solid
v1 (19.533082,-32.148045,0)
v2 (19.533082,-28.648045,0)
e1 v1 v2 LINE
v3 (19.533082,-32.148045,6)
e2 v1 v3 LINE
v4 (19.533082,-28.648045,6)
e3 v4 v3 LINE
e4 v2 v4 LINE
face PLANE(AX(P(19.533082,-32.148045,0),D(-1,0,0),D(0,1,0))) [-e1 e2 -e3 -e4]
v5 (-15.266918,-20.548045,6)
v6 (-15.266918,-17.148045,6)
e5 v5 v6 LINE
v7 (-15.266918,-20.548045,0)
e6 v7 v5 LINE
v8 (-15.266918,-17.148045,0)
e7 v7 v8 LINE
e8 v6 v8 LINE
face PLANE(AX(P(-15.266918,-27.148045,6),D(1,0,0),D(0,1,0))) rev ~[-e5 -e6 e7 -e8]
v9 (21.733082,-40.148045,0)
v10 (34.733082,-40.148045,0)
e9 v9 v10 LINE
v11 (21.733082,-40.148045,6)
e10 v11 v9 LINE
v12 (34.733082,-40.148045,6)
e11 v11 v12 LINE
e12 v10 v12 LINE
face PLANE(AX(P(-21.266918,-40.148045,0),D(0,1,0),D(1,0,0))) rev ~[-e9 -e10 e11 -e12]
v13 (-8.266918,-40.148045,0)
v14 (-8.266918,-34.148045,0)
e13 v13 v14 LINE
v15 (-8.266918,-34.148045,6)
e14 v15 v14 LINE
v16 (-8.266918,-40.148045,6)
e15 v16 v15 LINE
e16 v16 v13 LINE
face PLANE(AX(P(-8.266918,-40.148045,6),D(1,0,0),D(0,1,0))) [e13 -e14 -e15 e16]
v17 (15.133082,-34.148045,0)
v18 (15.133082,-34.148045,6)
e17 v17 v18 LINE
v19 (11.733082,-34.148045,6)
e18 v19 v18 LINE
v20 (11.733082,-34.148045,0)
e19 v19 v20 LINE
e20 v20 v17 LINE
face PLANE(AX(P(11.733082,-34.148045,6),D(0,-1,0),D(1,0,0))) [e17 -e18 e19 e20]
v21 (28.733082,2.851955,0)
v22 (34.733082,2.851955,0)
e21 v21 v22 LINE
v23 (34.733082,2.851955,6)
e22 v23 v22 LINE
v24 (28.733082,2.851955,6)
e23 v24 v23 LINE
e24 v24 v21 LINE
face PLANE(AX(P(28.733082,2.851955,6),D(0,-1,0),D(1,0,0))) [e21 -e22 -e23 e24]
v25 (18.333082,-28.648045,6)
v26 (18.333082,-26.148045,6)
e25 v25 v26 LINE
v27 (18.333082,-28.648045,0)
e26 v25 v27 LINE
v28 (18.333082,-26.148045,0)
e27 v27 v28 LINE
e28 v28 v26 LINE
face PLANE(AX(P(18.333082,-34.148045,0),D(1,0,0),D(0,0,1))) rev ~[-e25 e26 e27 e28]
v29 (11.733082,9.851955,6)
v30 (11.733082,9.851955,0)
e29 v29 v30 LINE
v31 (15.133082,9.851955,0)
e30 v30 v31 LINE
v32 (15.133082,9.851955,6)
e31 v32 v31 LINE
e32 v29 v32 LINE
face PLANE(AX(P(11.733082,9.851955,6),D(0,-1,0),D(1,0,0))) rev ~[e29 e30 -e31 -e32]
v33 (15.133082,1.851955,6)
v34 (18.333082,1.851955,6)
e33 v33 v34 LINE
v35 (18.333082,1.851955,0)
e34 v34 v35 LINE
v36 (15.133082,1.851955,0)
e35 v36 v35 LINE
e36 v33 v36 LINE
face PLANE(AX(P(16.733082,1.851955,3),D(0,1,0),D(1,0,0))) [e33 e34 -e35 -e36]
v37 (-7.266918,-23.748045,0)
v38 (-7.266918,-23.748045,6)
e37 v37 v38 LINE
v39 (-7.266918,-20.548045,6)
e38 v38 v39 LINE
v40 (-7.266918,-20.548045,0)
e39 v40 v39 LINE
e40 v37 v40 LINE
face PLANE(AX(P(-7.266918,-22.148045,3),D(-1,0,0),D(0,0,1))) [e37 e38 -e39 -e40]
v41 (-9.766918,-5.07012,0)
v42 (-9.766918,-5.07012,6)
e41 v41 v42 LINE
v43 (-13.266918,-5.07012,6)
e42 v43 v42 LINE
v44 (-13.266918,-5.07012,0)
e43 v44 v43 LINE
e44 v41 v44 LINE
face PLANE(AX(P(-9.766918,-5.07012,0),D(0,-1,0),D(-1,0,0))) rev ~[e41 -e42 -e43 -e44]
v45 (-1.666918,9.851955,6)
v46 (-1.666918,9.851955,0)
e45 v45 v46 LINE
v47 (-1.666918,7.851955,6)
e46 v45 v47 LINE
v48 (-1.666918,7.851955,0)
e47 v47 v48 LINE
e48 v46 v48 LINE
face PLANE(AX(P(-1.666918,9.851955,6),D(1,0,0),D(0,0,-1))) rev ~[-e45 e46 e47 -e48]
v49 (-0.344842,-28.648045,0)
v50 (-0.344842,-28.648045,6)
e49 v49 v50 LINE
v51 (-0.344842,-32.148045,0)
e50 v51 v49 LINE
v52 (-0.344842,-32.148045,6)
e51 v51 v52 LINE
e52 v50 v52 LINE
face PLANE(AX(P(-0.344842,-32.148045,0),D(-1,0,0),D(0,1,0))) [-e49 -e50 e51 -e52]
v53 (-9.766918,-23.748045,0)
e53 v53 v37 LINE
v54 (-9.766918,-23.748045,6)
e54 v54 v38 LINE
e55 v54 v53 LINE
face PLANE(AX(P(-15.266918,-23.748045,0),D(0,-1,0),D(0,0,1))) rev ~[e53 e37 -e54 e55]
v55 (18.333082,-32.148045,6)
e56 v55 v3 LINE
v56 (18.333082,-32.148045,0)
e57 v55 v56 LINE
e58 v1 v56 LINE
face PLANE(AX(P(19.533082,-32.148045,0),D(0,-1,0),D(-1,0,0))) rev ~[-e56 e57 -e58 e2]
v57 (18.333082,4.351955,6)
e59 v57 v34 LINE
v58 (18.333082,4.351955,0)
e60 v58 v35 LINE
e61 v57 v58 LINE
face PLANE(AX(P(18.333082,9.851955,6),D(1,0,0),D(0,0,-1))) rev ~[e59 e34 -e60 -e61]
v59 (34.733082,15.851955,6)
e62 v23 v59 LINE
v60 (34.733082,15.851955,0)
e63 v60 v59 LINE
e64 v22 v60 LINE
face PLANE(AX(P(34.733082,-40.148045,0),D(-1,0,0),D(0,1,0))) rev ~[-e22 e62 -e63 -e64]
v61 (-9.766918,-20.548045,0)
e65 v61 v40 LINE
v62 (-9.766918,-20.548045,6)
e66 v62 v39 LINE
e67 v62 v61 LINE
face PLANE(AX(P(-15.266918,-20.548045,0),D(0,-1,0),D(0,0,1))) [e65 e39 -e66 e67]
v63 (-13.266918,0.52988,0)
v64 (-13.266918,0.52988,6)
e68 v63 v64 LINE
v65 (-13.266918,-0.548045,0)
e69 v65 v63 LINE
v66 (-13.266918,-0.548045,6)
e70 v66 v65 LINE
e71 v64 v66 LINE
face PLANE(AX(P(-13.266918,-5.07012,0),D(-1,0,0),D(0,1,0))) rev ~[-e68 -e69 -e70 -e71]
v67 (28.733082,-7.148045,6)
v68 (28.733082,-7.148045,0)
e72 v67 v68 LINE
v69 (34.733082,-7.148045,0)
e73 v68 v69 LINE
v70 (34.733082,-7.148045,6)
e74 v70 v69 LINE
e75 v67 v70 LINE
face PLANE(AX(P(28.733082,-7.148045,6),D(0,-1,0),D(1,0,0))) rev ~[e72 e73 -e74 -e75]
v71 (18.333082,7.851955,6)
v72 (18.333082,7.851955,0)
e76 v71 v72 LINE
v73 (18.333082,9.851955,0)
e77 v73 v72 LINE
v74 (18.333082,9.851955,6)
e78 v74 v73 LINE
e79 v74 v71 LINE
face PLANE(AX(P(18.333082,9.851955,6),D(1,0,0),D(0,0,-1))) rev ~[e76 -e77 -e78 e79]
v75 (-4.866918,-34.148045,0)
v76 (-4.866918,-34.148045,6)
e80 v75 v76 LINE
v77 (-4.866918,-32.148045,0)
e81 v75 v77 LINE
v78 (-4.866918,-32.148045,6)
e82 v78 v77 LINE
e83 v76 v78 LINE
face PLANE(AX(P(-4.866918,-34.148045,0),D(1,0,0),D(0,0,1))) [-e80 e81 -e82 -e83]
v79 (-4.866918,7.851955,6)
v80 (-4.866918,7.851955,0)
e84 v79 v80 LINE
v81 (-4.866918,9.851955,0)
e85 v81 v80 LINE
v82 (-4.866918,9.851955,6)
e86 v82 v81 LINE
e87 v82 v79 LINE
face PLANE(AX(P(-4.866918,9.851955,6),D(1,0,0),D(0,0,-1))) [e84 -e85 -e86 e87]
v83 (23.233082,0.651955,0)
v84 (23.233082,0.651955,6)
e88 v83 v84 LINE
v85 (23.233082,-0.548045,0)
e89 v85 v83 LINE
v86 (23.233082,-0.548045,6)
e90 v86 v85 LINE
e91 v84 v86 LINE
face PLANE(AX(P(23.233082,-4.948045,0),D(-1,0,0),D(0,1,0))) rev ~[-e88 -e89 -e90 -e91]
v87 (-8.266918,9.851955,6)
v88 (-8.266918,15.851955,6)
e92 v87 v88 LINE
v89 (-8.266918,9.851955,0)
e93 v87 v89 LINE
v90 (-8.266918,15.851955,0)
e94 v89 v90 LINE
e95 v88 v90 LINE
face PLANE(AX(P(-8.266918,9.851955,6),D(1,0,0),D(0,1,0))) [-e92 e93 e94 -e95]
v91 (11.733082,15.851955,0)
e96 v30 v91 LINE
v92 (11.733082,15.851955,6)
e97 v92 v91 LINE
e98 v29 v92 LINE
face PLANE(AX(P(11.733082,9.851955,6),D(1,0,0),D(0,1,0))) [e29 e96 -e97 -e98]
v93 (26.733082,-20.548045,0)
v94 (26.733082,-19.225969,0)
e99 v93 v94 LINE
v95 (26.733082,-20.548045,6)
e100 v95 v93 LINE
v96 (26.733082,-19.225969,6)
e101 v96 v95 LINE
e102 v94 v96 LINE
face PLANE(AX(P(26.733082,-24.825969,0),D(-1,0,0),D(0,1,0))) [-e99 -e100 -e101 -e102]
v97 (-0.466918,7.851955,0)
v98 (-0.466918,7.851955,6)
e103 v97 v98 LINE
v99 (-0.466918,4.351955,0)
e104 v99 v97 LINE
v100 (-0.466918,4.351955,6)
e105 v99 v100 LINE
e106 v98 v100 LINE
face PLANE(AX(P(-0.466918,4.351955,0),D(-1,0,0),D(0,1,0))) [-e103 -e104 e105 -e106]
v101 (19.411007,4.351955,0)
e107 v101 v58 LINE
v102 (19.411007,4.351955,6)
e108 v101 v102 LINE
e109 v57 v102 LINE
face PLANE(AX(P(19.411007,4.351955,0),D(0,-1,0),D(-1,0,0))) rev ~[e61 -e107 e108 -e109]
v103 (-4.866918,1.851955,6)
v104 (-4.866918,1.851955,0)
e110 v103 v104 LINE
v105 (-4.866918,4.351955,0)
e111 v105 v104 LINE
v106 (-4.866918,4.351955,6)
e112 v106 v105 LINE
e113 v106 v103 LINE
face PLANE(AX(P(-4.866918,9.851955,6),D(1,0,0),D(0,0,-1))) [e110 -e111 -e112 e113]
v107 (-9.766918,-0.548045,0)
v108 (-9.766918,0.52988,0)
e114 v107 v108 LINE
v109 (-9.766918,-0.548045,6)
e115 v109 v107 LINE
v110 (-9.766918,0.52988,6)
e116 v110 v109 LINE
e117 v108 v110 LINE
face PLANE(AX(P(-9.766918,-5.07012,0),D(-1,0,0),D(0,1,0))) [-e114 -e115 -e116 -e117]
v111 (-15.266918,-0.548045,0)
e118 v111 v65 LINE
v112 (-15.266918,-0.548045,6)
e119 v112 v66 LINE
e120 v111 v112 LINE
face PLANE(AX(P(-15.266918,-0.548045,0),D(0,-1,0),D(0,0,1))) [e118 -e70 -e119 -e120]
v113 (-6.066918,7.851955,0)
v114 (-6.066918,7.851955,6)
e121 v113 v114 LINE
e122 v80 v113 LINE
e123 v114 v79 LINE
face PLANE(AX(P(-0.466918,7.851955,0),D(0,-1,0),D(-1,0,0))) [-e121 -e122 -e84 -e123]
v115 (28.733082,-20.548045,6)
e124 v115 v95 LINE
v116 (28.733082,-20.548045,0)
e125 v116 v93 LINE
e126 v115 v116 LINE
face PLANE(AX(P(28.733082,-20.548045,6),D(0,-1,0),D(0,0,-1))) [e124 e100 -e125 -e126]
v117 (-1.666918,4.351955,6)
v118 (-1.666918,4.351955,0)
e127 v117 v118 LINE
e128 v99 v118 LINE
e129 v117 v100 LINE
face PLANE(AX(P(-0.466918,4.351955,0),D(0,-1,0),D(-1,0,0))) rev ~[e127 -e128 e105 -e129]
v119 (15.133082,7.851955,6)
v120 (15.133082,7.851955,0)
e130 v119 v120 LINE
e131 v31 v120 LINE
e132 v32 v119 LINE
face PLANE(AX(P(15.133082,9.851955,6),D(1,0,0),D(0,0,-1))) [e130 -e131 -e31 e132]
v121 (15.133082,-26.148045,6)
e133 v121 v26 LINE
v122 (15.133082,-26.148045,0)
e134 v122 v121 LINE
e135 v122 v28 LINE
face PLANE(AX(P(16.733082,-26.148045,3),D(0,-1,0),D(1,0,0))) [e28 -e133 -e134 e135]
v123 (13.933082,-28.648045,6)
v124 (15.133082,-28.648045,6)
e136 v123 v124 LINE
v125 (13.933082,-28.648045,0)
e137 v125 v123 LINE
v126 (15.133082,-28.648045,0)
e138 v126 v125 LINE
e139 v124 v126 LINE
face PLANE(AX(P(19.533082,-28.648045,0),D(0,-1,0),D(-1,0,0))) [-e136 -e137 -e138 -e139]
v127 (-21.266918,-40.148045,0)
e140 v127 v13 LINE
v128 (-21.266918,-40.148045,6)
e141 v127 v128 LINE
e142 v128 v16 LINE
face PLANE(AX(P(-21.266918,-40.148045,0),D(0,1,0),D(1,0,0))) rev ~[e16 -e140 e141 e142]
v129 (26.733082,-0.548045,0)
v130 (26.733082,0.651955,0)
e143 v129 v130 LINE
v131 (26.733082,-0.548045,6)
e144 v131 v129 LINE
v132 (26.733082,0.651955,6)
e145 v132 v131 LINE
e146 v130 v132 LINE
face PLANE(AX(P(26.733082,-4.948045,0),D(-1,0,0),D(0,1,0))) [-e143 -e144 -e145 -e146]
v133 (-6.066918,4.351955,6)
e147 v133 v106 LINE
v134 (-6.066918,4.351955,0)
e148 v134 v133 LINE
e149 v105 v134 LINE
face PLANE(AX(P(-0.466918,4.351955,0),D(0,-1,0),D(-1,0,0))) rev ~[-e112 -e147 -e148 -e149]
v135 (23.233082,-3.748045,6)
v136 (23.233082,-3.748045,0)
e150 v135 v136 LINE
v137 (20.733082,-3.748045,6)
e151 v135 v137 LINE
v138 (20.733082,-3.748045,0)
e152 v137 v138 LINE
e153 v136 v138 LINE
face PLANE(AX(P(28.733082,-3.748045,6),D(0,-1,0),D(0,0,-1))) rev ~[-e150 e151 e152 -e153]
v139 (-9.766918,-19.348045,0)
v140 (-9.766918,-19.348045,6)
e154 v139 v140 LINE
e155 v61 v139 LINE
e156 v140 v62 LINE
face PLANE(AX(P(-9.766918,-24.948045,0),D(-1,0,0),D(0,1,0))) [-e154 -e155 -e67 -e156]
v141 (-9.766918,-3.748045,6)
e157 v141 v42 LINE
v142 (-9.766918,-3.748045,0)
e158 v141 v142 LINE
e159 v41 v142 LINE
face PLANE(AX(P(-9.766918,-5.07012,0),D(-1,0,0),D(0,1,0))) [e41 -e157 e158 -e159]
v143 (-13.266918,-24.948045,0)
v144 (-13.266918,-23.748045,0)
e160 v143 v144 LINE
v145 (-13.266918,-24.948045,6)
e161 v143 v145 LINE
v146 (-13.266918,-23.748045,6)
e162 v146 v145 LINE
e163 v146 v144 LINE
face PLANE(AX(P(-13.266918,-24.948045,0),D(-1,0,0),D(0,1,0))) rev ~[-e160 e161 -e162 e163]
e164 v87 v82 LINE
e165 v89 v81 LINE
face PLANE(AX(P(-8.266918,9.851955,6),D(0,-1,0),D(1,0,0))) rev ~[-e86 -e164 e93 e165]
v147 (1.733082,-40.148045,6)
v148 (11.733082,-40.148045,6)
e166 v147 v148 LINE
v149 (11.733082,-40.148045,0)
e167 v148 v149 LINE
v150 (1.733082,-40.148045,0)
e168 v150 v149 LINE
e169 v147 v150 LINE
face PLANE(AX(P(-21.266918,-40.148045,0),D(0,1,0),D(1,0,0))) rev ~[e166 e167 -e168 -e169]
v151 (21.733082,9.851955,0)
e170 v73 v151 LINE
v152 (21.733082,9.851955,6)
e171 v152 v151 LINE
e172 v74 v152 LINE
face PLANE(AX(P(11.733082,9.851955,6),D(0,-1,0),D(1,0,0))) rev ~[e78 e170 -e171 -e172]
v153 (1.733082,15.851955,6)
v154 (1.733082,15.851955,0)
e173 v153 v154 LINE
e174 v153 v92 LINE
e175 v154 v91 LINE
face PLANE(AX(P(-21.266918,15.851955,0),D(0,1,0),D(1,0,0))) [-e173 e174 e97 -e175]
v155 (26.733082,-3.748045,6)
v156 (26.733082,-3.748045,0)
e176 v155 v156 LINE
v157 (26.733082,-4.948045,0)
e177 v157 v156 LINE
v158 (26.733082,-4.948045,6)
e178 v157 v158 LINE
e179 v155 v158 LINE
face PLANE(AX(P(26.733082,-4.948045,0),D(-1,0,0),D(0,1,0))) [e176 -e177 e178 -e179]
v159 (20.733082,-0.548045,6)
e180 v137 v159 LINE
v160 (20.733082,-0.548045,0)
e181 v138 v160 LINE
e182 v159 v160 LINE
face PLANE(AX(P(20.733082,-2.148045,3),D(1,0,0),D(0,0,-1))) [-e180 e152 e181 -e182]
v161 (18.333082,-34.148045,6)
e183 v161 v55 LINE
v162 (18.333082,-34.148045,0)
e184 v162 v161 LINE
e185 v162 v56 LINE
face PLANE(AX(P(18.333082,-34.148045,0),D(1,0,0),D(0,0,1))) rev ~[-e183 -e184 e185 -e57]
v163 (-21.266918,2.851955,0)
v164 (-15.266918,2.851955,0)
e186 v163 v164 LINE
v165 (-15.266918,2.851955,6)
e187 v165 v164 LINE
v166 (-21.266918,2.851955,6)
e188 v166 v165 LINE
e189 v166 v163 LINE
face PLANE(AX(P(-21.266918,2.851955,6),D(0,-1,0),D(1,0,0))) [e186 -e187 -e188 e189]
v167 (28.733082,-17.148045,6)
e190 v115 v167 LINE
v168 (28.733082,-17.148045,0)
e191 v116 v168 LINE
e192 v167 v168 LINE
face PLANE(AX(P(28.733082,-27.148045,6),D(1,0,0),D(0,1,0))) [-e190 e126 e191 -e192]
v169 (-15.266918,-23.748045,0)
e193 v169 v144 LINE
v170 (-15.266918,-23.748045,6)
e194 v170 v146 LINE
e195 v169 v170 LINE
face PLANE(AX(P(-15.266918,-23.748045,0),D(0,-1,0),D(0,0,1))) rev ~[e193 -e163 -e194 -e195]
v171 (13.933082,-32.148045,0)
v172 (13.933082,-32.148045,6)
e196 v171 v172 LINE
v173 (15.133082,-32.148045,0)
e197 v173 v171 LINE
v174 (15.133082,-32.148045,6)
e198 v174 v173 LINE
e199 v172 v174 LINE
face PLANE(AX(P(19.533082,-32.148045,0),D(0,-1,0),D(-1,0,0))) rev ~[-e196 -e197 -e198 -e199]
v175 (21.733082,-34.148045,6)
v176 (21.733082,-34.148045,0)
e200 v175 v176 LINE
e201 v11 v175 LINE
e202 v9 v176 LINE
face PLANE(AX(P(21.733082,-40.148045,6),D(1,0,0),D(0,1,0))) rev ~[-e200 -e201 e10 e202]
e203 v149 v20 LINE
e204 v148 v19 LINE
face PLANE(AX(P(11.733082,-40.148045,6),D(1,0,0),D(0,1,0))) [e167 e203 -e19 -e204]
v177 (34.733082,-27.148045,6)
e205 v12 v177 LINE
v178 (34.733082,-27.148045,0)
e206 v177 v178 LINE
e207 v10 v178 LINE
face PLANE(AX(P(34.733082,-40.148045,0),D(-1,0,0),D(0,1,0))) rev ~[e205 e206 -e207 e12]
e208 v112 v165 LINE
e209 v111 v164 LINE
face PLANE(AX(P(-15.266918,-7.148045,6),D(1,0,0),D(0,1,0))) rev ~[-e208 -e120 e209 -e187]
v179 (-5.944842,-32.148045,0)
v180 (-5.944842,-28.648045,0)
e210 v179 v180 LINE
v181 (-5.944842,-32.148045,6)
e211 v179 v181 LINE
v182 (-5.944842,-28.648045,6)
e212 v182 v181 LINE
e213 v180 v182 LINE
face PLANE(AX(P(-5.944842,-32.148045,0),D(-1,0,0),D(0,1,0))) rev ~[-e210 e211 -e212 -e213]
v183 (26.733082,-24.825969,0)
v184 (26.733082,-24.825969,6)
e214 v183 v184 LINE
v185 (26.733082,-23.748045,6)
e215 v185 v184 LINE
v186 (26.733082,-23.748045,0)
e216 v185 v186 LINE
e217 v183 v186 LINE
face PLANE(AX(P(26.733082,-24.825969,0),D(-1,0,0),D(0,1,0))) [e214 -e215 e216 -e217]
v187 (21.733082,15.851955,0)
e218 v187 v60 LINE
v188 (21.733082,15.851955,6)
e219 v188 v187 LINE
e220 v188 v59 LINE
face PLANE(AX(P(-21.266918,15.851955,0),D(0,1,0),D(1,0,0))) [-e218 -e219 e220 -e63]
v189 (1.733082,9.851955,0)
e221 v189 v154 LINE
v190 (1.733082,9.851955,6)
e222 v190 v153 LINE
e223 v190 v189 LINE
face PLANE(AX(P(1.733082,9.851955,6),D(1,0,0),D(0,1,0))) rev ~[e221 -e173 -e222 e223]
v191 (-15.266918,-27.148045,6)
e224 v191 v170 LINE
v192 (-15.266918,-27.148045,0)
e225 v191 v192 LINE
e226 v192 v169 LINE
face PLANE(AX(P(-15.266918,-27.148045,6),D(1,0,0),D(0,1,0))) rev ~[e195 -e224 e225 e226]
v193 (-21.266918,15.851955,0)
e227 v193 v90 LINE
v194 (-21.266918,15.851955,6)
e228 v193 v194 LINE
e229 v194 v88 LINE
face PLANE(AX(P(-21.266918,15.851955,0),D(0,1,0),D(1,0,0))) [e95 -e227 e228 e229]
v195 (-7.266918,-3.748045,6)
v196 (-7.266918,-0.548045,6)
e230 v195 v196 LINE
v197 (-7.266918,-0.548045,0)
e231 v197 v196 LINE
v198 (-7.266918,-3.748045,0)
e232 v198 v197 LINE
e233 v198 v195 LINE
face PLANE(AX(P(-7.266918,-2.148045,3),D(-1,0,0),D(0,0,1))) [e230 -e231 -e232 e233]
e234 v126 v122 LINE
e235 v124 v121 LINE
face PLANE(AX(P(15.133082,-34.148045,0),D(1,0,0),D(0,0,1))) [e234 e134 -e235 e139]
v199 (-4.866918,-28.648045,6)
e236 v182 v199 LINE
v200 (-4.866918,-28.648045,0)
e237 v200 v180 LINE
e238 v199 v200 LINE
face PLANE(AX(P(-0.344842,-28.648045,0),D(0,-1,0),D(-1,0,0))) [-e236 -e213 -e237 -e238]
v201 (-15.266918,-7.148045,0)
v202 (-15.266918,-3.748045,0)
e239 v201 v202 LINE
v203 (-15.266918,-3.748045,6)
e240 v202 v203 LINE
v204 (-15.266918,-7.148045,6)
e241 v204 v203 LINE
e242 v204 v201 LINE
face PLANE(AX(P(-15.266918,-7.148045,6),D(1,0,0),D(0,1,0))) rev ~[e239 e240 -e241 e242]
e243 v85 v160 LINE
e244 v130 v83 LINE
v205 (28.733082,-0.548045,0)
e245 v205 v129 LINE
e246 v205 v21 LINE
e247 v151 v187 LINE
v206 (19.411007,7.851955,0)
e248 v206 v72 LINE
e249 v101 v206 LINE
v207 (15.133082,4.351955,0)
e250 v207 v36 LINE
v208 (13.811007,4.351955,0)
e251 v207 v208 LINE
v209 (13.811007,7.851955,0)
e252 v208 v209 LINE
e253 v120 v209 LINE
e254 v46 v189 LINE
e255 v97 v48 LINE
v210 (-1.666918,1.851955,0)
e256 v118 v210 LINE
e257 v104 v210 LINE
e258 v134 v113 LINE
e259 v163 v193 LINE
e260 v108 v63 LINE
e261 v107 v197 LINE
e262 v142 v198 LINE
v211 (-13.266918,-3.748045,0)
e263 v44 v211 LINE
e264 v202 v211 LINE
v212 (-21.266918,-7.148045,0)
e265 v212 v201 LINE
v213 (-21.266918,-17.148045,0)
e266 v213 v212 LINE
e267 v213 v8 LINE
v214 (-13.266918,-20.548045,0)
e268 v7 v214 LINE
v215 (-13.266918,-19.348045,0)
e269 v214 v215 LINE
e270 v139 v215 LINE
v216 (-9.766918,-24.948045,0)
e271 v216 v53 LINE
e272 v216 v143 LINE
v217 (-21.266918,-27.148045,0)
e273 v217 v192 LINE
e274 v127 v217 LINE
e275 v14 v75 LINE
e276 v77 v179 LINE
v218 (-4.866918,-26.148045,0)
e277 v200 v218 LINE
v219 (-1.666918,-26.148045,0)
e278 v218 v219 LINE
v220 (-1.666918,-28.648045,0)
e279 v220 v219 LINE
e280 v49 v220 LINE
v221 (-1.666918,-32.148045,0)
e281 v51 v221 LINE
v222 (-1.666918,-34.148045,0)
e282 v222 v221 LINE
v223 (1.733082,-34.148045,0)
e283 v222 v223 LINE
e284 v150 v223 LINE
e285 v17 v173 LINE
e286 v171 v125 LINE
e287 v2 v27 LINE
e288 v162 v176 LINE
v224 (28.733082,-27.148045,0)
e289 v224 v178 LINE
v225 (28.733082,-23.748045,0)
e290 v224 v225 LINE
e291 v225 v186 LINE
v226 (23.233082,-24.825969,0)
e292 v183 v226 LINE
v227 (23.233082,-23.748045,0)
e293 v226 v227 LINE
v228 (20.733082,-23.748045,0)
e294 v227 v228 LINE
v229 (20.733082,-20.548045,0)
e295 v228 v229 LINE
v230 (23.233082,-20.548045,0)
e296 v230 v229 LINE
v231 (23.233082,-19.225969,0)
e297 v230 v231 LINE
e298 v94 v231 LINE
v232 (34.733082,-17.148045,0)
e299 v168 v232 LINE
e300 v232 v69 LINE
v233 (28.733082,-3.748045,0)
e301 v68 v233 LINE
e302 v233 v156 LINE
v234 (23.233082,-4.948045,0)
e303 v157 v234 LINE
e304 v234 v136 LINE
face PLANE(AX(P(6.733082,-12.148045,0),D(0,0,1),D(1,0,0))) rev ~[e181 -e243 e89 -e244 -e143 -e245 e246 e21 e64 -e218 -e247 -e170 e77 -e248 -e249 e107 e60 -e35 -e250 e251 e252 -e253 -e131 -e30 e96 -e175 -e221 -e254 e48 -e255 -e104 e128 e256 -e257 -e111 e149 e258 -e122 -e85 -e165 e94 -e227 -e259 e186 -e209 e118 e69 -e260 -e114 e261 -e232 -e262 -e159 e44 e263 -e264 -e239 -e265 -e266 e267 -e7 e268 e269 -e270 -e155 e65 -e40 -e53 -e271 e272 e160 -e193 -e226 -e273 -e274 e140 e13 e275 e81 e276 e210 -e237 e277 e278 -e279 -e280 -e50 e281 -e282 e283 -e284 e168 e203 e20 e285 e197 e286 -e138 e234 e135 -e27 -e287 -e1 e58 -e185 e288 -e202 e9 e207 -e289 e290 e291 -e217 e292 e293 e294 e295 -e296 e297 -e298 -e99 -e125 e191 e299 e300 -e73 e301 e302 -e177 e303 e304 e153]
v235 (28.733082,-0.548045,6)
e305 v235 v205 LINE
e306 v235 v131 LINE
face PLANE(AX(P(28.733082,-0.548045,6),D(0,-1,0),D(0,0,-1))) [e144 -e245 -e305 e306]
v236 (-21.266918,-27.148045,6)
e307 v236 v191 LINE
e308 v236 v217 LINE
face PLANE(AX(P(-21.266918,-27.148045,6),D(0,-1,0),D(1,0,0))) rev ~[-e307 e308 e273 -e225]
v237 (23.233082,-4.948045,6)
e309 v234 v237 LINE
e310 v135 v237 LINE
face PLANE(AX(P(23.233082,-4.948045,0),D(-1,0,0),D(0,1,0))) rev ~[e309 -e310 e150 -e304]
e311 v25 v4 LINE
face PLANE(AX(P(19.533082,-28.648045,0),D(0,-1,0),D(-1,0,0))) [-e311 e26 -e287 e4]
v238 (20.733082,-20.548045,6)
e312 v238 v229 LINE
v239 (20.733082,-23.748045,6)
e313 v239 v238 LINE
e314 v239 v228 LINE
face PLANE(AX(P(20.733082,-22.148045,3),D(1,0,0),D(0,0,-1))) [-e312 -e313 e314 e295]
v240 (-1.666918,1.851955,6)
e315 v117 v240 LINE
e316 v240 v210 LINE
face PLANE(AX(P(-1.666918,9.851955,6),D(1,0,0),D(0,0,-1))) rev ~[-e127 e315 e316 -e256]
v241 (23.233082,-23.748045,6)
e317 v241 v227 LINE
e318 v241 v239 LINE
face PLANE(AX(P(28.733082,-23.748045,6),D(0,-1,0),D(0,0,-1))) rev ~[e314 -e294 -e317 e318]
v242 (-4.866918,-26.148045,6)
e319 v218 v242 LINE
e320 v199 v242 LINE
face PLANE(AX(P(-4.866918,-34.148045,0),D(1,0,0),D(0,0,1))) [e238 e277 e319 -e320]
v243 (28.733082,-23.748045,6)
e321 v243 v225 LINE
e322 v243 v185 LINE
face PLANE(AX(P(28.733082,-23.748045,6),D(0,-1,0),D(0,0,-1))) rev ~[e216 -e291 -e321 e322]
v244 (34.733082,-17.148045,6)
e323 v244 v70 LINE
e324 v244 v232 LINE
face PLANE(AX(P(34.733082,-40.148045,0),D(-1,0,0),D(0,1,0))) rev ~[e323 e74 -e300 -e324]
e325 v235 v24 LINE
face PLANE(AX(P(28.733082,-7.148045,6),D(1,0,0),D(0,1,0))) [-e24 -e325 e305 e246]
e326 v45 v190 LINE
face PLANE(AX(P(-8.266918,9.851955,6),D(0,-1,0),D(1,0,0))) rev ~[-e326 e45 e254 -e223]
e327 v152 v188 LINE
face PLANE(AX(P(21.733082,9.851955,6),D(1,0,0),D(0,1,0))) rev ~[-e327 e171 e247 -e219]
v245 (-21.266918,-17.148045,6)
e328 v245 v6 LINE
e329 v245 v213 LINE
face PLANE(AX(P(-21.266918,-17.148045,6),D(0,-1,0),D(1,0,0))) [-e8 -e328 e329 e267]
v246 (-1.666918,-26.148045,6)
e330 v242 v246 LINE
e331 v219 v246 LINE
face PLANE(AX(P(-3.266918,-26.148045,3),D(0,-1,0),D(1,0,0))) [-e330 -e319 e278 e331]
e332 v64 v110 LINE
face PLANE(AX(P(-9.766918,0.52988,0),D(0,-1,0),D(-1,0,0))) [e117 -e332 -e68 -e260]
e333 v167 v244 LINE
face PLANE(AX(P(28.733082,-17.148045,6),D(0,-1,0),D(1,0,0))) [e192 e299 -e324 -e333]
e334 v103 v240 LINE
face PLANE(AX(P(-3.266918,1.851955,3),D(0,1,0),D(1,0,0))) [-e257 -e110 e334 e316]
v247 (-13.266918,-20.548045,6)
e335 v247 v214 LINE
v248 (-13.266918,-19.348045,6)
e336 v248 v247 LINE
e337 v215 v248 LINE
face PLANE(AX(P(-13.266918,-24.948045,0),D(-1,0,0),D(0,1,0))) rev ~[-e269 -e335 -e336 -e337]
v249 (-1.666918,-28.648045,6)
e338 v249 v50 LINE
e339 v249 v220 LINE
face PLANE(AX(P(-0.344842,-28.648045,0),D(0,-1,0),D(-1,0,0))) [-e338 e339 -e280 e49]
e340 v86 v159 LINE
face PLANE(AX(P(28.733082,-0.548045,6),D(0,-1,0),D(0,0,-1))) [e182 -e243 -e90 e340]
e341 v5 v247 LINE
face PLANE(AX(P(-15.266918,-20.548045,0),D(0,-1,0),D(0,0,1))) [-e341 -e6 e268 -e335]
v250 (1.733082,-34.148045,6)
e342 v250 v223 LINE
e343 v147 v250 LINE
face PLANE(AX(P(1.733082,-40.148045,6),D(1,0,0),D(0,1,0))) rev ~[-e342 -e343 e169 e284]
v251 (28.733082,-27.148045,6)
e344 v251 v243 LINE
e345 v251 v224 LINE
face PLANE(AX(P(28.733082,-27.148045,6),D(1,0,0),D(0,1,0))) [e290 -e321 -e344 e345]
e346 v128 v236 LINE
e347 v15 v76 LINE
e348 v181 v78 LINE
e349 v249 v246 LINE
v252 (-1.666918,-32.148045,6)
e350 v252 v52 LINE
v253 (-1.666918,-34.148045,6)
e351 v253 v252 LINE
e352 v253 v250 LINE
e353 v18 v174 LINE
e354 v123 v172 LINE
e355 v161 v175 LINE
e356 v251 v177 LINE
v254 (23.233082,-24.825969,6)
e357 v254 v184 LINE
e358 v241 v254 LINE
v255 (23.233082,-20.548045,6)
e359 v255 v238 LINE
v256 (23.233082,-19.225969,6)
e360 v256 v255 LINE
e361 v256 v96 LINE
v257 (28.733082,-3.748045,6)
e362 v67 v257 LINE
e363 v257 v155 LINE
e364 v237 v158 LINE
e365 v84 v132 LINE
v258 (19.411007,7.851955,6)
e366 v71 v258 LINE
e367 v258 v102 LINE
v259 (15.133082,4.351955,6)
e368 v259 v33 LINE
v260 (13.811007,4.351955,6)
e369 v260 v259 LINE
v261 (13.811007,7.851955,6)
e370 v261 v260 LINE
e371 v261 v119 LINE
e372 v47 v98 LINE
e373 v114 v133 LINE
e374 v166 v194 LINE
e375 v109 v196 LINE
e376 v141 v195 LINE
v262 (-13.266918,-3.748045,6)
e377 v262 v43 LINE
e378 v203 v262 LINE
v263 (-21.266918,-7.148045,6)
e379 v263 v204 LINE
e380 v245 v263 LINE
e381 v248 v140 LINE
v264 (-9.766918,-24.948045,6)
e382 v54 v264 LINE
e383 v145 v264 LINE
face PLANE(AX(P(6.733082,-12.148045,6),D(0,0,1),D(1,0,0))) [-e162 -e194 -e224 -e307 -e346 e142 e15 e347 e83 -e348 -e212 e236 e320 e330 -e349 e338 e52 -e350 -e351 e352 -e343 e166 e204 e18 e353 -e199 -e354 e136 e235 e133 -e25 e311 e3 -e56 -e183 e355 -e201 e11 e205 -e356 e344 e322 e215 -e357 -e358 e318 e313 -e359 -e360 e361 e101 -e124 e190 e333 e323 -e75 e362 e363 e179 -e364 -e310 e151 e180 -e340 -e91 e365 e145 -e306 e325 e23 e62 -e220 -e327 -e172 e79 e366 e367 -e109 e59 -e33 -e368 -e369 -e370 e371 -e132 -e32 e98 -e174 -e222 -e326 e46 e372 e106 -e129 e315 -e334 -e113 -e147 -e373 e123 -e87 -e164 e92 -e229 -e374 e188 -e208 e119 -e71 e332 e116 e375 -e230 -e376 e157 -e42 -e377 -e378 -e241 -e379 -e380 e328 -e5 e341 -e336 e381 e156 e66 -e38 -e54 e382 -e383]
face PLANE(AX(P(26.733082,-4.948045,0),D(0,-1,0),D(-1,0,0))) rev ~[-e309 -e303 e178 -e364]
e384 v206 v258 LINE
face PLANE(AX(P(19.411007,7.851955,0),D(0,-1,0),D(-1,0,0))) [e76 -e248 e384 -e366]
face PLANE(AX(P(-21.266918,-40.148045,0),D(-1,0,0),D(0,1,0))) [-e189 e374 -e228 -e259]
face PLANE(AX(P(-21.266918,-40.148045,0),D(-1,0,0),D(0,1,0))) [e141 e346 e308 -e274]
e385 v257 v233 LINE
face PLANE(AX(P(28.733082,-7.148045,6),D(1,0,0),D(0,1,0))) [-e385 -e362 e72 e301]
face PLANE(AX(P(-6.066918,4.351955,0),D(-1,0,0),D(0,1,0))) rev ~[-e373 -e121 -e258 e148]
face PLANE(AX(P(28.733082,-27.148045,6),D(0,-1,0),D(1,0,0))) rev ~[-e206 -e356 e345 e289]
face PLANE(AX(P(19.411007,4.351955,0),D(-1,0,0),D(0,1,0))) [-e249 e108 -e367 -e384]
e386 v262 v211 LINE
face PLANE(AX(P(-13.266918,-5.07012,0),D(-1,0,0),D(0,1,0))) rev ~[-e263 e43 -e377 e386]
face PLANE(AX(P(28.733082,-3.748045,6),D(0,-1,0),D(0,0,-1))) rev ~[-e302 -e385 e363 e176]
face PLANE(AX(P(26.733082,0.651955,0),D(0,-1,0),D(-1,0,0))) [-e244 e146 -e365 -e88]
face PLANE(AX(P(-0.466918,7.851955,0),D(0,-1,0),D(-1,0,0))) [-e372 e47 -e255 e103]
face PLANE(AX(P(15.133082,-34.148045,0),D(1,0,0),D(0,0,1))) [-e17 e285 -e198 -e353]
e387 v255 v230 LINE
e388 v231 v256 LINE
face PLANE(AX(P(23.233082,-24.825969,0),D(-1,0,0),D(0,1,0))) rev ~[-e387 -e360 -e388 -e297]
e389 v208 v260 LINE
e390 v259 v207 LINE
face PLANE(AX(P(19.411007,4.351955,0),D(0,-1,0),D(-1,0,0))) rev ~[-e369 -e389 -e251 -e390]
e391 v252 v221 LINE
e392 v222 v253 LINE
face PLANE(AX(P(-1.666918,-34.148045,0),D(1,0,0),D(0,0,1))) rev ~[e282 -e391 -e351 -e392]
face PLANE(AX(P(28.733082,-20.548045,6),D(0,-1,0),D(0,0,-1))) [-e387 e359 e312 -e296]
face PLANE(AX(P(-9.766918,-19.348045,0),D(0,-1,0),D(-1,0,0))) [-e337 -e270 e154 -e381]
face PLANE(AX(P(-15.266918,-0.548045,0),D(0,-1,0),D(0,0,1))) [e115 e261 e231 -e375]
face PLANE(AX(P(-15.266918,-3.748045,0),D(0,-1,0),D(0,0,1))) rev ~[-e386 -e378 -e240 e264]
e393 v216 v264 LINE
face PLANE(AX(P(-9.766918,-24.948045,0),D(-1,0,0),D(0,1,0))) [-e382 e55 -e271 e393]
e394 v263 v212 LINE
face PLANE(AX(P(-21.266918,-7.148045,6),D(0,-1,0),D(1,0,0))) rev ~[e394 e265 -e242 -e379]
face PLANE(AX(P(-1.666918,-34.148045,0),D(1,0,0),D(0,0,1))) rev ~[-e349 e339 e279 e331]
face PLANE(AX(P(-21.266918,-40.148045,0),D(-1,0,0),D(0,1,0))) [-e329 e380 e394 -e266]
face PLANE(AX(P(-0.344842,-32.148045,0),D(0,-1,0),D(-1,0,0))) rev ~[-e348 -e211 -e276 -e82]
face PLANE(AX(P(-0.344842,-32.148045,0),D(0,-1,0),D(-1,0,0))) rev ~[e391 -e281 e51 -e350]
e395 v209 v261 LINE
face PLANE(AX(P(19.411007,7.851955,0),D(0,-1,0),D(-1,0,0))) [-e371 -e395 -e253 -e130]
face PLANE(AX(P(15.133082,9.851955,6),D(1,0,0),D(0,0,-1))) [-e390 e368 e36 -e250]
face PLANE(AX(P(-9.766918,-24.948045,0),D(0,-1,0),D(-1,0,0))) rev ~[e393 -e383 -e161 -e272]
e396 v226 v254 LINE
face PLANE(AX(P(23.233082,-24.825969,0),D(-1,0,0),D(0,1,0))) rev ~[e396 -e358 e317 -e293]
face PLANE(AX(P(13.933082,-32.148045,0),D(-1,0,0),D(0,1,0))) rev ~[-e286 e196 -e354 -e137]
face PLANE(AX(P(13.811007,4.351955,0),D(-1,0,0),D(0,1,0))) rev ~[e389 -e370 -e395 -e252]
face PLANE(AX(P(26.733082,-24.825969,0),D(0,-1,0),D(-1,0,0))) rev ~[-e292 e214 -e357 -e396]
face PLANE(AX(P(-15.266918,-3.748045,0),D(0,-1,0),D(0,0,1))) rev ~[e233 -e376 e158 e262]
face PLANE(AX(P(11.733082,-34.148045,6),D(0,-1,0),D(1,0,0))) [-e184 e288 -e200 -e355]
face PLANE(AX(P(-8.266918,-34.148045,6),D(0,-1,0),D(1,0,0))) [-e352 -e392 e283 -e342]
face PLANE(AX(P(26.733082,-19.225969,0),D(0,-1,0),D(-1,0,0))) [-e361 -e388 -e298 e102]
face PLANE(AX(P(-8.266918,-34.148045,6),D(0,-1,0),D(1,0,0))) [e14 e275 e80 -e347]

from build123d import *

# Parameters (mm, degrees)
SKETCH1_W           = 56
SKETCH1_H           = 56
BOSS_EXTRUDE1_DEPTH = 6
SKETCH2_W           = 10
SKETCH2_H           = 6
SKETCH2_W_2         = 6
SKETCH2_H_2         = 10
CUT_EXTRUDE1_DEPTH  = 54.425204723
SKETCH4_W           = 3.2
SKETCH4_H           = 6
CUT_EXTRUDE2_DEPTH  = 8
SKETCH10_W          = 6
SKETCH10_H          = 3.2
CUT_EXTRUDE7_DEPTH  = 8
SKETCH11_W          = 3.2
SKETCH11_H          = 6
CUT_EXTRUDE8_DEPTH  = 8
SKETCH12_W          = 6
SKETCH12_H          = 3.2
CUT_EXTRUDE9_DEPTH  = 8
SKETCH13_W          = 3.5
SKETCH13_H          = 5.6
SKETCH13_W_2        = 5.6
SKETCH13_H_2        = 3.5
CUT_EXTRUDE10_DEPTH = 54.425204723


with BuildPart() as part:
    # Sketch1 → Boss-Extrude1 (new body)
    with BuildSketch(Plane.XY):
        with Locations((6.733082315, -12.148044693)):
            Rectangle(SKETCH1_W, SKETCH1_H)
    extrude(amount=BOSS_EXTRUDE1_DEPTH)

    # Sketch2 → Cut-Extrude1 (cut, through all)
    with BuildSketch(Plane.XY.offset(6)):
        with Locations((-3.266917685, 12.851955307)):
            Rectangle(SKETCH2_W, SKETCH2_H)
        with Locations((16.733082315, 12.851955307)):
            Rectangle(SKETCH2_W, SKETCH2_H)
        with Locations((31.733082315, -2.148044693)):
            Rectangle(SKETCH2_W_2, SKETCH2_H_2)
        with Locations((31.733082315, -22.148044693)):
            Rectangle(SKETCH2_W_2, SKETCH2_H_2)
        with Locations((16.733082315, -37.148044693)):
            Rectangle(SKETCH2_W, SKETCH2_H)
        with Locations((-3.266917685, -37.148044693)):
            Rectangle(SKETCH2_W, SKETCH2_H)
        with Locations((-18.266917685, -22.148044693)):
            Rectangle(SKETCH2_W_2, SKETCH2_H_2)
        with Locations((-18.266917685, -2.148044693)):
            Rectangle(SKETCH2_W_2, SKETCH2_H_2)
    extrude(amount=-CUT_EXTRUDE1_DEPTH, mode=Mode.SUBTRACT)

    # Sketch4 → Cut-Extrude2 (cut)
    with BuildSketch(Plane(origin=(0, 9.851955307, 0), x_dir=(1, 0, 0), z_dir=(0, 1, 0))):
        with Locations((16.733082315, -3)):
            Rectangle(SKETCH4_W, SKETCH4_H)
        with Locations((-3.266917685, -3)):
            Rectangle(SKETCH4_W, SKETCH4_H)
    extrude(amount=-CUT_EXTRUDE2_DEPTH, mode=Mode.SUBTRACT)

    # Sketch10 → Cut-Extrude7 (cut)
    with BuildSketch(Plane(origin=(28.733082315, 0, 0), x_dir=(0, 0, -1), z_dir=(1, 0, 0))):
        with Locations((-3, -2.148044693)):
            Rectangle(SKETCH10_W, SKETCH10_H)
        with Locations((-3, -22.148044693)):
            Rectangle(SKETCH10_W, SKETCH10_H)
    extrude(amount=-CUT_EXTRUDE7_DEPTH, mode=Mode.SUBTRACT)

    # Sketch11 → Cut-Extrude8 (cut)
    with BuildSketch(Plane.XZ.offset(34.148044693)):
        with Locations((16.733082315, 3)):
            Rectangle(SKETCH11_W, SKETCH11_H)
        with Locations((-3.266917685, 3)):
            Rectangle(SKETCH11_W, SKETCH11_H)
    extrude(amount=-CUT_EXTRUDE8_DEPTH, mode=Mode.SUBTRACT)

    # Sketch12 → Cut-Extrude9 (cut)
    with BuildSketch(Plane.ZY.offset(15.266917685)):
        with Locations((3, -2.148044693)):
            Rectangle(SKETCH12_W, SKETCH12_H)
        with Locations((3, -22.148044693)):
            Rectangle(SKETCH12_W, SKETCH12_H)
    extrude(amount=-CUT_EXTRUDE9_DEPTH, mode=Mode.SUBTRACT)

    # Sketch13 → Cut-Extrude10 (cut, through all)
    with BuildSketch(Plane(origin=(0, 0, 0), x_dir=(-1, 0, 0), z_dir=(0, 0, -1))):
        with Locations((-24.983082315, -22.025968928)):
            Rectangle(SKETCH13_W, SKETCH13_H)
        with Locations((-16.61100655, 6.101955307)):
            Rectangle(SKETCH13_W_2, SKETCH13_H_2)
        with Locations((-24.983082315, -2.148044693)):
            Rectangle(SKETCH13_W, SKETCH13_H)
        with Locations((3.266917685, 6.101955307)):
            Rectangle(SKETCH13_W_2, SKETCH13_H_2)
        with Locations((11.516917685, -2.270120458)):
            Rectangle(SKETCH13_W, SKETCH13_H)
        with Locations((11.516917685, -22.148044693)):
            Rectangle(SKETCH13_W, SKETCH13_H)
        with Locations((3.14484192, -30.398044693)):
            Rectangle(SKETCH13_W_2, SKETCH13_H_2)
        with Locations((-16.733082315, -30.398044693)):
            Rectangle(SKETCH13_W_2, SKETCH13_H_2)
    extrude(amount=-CUT_EXTRUDE10_DEPTH, mode=Mode.SUBTRACT)


solid = part.part
